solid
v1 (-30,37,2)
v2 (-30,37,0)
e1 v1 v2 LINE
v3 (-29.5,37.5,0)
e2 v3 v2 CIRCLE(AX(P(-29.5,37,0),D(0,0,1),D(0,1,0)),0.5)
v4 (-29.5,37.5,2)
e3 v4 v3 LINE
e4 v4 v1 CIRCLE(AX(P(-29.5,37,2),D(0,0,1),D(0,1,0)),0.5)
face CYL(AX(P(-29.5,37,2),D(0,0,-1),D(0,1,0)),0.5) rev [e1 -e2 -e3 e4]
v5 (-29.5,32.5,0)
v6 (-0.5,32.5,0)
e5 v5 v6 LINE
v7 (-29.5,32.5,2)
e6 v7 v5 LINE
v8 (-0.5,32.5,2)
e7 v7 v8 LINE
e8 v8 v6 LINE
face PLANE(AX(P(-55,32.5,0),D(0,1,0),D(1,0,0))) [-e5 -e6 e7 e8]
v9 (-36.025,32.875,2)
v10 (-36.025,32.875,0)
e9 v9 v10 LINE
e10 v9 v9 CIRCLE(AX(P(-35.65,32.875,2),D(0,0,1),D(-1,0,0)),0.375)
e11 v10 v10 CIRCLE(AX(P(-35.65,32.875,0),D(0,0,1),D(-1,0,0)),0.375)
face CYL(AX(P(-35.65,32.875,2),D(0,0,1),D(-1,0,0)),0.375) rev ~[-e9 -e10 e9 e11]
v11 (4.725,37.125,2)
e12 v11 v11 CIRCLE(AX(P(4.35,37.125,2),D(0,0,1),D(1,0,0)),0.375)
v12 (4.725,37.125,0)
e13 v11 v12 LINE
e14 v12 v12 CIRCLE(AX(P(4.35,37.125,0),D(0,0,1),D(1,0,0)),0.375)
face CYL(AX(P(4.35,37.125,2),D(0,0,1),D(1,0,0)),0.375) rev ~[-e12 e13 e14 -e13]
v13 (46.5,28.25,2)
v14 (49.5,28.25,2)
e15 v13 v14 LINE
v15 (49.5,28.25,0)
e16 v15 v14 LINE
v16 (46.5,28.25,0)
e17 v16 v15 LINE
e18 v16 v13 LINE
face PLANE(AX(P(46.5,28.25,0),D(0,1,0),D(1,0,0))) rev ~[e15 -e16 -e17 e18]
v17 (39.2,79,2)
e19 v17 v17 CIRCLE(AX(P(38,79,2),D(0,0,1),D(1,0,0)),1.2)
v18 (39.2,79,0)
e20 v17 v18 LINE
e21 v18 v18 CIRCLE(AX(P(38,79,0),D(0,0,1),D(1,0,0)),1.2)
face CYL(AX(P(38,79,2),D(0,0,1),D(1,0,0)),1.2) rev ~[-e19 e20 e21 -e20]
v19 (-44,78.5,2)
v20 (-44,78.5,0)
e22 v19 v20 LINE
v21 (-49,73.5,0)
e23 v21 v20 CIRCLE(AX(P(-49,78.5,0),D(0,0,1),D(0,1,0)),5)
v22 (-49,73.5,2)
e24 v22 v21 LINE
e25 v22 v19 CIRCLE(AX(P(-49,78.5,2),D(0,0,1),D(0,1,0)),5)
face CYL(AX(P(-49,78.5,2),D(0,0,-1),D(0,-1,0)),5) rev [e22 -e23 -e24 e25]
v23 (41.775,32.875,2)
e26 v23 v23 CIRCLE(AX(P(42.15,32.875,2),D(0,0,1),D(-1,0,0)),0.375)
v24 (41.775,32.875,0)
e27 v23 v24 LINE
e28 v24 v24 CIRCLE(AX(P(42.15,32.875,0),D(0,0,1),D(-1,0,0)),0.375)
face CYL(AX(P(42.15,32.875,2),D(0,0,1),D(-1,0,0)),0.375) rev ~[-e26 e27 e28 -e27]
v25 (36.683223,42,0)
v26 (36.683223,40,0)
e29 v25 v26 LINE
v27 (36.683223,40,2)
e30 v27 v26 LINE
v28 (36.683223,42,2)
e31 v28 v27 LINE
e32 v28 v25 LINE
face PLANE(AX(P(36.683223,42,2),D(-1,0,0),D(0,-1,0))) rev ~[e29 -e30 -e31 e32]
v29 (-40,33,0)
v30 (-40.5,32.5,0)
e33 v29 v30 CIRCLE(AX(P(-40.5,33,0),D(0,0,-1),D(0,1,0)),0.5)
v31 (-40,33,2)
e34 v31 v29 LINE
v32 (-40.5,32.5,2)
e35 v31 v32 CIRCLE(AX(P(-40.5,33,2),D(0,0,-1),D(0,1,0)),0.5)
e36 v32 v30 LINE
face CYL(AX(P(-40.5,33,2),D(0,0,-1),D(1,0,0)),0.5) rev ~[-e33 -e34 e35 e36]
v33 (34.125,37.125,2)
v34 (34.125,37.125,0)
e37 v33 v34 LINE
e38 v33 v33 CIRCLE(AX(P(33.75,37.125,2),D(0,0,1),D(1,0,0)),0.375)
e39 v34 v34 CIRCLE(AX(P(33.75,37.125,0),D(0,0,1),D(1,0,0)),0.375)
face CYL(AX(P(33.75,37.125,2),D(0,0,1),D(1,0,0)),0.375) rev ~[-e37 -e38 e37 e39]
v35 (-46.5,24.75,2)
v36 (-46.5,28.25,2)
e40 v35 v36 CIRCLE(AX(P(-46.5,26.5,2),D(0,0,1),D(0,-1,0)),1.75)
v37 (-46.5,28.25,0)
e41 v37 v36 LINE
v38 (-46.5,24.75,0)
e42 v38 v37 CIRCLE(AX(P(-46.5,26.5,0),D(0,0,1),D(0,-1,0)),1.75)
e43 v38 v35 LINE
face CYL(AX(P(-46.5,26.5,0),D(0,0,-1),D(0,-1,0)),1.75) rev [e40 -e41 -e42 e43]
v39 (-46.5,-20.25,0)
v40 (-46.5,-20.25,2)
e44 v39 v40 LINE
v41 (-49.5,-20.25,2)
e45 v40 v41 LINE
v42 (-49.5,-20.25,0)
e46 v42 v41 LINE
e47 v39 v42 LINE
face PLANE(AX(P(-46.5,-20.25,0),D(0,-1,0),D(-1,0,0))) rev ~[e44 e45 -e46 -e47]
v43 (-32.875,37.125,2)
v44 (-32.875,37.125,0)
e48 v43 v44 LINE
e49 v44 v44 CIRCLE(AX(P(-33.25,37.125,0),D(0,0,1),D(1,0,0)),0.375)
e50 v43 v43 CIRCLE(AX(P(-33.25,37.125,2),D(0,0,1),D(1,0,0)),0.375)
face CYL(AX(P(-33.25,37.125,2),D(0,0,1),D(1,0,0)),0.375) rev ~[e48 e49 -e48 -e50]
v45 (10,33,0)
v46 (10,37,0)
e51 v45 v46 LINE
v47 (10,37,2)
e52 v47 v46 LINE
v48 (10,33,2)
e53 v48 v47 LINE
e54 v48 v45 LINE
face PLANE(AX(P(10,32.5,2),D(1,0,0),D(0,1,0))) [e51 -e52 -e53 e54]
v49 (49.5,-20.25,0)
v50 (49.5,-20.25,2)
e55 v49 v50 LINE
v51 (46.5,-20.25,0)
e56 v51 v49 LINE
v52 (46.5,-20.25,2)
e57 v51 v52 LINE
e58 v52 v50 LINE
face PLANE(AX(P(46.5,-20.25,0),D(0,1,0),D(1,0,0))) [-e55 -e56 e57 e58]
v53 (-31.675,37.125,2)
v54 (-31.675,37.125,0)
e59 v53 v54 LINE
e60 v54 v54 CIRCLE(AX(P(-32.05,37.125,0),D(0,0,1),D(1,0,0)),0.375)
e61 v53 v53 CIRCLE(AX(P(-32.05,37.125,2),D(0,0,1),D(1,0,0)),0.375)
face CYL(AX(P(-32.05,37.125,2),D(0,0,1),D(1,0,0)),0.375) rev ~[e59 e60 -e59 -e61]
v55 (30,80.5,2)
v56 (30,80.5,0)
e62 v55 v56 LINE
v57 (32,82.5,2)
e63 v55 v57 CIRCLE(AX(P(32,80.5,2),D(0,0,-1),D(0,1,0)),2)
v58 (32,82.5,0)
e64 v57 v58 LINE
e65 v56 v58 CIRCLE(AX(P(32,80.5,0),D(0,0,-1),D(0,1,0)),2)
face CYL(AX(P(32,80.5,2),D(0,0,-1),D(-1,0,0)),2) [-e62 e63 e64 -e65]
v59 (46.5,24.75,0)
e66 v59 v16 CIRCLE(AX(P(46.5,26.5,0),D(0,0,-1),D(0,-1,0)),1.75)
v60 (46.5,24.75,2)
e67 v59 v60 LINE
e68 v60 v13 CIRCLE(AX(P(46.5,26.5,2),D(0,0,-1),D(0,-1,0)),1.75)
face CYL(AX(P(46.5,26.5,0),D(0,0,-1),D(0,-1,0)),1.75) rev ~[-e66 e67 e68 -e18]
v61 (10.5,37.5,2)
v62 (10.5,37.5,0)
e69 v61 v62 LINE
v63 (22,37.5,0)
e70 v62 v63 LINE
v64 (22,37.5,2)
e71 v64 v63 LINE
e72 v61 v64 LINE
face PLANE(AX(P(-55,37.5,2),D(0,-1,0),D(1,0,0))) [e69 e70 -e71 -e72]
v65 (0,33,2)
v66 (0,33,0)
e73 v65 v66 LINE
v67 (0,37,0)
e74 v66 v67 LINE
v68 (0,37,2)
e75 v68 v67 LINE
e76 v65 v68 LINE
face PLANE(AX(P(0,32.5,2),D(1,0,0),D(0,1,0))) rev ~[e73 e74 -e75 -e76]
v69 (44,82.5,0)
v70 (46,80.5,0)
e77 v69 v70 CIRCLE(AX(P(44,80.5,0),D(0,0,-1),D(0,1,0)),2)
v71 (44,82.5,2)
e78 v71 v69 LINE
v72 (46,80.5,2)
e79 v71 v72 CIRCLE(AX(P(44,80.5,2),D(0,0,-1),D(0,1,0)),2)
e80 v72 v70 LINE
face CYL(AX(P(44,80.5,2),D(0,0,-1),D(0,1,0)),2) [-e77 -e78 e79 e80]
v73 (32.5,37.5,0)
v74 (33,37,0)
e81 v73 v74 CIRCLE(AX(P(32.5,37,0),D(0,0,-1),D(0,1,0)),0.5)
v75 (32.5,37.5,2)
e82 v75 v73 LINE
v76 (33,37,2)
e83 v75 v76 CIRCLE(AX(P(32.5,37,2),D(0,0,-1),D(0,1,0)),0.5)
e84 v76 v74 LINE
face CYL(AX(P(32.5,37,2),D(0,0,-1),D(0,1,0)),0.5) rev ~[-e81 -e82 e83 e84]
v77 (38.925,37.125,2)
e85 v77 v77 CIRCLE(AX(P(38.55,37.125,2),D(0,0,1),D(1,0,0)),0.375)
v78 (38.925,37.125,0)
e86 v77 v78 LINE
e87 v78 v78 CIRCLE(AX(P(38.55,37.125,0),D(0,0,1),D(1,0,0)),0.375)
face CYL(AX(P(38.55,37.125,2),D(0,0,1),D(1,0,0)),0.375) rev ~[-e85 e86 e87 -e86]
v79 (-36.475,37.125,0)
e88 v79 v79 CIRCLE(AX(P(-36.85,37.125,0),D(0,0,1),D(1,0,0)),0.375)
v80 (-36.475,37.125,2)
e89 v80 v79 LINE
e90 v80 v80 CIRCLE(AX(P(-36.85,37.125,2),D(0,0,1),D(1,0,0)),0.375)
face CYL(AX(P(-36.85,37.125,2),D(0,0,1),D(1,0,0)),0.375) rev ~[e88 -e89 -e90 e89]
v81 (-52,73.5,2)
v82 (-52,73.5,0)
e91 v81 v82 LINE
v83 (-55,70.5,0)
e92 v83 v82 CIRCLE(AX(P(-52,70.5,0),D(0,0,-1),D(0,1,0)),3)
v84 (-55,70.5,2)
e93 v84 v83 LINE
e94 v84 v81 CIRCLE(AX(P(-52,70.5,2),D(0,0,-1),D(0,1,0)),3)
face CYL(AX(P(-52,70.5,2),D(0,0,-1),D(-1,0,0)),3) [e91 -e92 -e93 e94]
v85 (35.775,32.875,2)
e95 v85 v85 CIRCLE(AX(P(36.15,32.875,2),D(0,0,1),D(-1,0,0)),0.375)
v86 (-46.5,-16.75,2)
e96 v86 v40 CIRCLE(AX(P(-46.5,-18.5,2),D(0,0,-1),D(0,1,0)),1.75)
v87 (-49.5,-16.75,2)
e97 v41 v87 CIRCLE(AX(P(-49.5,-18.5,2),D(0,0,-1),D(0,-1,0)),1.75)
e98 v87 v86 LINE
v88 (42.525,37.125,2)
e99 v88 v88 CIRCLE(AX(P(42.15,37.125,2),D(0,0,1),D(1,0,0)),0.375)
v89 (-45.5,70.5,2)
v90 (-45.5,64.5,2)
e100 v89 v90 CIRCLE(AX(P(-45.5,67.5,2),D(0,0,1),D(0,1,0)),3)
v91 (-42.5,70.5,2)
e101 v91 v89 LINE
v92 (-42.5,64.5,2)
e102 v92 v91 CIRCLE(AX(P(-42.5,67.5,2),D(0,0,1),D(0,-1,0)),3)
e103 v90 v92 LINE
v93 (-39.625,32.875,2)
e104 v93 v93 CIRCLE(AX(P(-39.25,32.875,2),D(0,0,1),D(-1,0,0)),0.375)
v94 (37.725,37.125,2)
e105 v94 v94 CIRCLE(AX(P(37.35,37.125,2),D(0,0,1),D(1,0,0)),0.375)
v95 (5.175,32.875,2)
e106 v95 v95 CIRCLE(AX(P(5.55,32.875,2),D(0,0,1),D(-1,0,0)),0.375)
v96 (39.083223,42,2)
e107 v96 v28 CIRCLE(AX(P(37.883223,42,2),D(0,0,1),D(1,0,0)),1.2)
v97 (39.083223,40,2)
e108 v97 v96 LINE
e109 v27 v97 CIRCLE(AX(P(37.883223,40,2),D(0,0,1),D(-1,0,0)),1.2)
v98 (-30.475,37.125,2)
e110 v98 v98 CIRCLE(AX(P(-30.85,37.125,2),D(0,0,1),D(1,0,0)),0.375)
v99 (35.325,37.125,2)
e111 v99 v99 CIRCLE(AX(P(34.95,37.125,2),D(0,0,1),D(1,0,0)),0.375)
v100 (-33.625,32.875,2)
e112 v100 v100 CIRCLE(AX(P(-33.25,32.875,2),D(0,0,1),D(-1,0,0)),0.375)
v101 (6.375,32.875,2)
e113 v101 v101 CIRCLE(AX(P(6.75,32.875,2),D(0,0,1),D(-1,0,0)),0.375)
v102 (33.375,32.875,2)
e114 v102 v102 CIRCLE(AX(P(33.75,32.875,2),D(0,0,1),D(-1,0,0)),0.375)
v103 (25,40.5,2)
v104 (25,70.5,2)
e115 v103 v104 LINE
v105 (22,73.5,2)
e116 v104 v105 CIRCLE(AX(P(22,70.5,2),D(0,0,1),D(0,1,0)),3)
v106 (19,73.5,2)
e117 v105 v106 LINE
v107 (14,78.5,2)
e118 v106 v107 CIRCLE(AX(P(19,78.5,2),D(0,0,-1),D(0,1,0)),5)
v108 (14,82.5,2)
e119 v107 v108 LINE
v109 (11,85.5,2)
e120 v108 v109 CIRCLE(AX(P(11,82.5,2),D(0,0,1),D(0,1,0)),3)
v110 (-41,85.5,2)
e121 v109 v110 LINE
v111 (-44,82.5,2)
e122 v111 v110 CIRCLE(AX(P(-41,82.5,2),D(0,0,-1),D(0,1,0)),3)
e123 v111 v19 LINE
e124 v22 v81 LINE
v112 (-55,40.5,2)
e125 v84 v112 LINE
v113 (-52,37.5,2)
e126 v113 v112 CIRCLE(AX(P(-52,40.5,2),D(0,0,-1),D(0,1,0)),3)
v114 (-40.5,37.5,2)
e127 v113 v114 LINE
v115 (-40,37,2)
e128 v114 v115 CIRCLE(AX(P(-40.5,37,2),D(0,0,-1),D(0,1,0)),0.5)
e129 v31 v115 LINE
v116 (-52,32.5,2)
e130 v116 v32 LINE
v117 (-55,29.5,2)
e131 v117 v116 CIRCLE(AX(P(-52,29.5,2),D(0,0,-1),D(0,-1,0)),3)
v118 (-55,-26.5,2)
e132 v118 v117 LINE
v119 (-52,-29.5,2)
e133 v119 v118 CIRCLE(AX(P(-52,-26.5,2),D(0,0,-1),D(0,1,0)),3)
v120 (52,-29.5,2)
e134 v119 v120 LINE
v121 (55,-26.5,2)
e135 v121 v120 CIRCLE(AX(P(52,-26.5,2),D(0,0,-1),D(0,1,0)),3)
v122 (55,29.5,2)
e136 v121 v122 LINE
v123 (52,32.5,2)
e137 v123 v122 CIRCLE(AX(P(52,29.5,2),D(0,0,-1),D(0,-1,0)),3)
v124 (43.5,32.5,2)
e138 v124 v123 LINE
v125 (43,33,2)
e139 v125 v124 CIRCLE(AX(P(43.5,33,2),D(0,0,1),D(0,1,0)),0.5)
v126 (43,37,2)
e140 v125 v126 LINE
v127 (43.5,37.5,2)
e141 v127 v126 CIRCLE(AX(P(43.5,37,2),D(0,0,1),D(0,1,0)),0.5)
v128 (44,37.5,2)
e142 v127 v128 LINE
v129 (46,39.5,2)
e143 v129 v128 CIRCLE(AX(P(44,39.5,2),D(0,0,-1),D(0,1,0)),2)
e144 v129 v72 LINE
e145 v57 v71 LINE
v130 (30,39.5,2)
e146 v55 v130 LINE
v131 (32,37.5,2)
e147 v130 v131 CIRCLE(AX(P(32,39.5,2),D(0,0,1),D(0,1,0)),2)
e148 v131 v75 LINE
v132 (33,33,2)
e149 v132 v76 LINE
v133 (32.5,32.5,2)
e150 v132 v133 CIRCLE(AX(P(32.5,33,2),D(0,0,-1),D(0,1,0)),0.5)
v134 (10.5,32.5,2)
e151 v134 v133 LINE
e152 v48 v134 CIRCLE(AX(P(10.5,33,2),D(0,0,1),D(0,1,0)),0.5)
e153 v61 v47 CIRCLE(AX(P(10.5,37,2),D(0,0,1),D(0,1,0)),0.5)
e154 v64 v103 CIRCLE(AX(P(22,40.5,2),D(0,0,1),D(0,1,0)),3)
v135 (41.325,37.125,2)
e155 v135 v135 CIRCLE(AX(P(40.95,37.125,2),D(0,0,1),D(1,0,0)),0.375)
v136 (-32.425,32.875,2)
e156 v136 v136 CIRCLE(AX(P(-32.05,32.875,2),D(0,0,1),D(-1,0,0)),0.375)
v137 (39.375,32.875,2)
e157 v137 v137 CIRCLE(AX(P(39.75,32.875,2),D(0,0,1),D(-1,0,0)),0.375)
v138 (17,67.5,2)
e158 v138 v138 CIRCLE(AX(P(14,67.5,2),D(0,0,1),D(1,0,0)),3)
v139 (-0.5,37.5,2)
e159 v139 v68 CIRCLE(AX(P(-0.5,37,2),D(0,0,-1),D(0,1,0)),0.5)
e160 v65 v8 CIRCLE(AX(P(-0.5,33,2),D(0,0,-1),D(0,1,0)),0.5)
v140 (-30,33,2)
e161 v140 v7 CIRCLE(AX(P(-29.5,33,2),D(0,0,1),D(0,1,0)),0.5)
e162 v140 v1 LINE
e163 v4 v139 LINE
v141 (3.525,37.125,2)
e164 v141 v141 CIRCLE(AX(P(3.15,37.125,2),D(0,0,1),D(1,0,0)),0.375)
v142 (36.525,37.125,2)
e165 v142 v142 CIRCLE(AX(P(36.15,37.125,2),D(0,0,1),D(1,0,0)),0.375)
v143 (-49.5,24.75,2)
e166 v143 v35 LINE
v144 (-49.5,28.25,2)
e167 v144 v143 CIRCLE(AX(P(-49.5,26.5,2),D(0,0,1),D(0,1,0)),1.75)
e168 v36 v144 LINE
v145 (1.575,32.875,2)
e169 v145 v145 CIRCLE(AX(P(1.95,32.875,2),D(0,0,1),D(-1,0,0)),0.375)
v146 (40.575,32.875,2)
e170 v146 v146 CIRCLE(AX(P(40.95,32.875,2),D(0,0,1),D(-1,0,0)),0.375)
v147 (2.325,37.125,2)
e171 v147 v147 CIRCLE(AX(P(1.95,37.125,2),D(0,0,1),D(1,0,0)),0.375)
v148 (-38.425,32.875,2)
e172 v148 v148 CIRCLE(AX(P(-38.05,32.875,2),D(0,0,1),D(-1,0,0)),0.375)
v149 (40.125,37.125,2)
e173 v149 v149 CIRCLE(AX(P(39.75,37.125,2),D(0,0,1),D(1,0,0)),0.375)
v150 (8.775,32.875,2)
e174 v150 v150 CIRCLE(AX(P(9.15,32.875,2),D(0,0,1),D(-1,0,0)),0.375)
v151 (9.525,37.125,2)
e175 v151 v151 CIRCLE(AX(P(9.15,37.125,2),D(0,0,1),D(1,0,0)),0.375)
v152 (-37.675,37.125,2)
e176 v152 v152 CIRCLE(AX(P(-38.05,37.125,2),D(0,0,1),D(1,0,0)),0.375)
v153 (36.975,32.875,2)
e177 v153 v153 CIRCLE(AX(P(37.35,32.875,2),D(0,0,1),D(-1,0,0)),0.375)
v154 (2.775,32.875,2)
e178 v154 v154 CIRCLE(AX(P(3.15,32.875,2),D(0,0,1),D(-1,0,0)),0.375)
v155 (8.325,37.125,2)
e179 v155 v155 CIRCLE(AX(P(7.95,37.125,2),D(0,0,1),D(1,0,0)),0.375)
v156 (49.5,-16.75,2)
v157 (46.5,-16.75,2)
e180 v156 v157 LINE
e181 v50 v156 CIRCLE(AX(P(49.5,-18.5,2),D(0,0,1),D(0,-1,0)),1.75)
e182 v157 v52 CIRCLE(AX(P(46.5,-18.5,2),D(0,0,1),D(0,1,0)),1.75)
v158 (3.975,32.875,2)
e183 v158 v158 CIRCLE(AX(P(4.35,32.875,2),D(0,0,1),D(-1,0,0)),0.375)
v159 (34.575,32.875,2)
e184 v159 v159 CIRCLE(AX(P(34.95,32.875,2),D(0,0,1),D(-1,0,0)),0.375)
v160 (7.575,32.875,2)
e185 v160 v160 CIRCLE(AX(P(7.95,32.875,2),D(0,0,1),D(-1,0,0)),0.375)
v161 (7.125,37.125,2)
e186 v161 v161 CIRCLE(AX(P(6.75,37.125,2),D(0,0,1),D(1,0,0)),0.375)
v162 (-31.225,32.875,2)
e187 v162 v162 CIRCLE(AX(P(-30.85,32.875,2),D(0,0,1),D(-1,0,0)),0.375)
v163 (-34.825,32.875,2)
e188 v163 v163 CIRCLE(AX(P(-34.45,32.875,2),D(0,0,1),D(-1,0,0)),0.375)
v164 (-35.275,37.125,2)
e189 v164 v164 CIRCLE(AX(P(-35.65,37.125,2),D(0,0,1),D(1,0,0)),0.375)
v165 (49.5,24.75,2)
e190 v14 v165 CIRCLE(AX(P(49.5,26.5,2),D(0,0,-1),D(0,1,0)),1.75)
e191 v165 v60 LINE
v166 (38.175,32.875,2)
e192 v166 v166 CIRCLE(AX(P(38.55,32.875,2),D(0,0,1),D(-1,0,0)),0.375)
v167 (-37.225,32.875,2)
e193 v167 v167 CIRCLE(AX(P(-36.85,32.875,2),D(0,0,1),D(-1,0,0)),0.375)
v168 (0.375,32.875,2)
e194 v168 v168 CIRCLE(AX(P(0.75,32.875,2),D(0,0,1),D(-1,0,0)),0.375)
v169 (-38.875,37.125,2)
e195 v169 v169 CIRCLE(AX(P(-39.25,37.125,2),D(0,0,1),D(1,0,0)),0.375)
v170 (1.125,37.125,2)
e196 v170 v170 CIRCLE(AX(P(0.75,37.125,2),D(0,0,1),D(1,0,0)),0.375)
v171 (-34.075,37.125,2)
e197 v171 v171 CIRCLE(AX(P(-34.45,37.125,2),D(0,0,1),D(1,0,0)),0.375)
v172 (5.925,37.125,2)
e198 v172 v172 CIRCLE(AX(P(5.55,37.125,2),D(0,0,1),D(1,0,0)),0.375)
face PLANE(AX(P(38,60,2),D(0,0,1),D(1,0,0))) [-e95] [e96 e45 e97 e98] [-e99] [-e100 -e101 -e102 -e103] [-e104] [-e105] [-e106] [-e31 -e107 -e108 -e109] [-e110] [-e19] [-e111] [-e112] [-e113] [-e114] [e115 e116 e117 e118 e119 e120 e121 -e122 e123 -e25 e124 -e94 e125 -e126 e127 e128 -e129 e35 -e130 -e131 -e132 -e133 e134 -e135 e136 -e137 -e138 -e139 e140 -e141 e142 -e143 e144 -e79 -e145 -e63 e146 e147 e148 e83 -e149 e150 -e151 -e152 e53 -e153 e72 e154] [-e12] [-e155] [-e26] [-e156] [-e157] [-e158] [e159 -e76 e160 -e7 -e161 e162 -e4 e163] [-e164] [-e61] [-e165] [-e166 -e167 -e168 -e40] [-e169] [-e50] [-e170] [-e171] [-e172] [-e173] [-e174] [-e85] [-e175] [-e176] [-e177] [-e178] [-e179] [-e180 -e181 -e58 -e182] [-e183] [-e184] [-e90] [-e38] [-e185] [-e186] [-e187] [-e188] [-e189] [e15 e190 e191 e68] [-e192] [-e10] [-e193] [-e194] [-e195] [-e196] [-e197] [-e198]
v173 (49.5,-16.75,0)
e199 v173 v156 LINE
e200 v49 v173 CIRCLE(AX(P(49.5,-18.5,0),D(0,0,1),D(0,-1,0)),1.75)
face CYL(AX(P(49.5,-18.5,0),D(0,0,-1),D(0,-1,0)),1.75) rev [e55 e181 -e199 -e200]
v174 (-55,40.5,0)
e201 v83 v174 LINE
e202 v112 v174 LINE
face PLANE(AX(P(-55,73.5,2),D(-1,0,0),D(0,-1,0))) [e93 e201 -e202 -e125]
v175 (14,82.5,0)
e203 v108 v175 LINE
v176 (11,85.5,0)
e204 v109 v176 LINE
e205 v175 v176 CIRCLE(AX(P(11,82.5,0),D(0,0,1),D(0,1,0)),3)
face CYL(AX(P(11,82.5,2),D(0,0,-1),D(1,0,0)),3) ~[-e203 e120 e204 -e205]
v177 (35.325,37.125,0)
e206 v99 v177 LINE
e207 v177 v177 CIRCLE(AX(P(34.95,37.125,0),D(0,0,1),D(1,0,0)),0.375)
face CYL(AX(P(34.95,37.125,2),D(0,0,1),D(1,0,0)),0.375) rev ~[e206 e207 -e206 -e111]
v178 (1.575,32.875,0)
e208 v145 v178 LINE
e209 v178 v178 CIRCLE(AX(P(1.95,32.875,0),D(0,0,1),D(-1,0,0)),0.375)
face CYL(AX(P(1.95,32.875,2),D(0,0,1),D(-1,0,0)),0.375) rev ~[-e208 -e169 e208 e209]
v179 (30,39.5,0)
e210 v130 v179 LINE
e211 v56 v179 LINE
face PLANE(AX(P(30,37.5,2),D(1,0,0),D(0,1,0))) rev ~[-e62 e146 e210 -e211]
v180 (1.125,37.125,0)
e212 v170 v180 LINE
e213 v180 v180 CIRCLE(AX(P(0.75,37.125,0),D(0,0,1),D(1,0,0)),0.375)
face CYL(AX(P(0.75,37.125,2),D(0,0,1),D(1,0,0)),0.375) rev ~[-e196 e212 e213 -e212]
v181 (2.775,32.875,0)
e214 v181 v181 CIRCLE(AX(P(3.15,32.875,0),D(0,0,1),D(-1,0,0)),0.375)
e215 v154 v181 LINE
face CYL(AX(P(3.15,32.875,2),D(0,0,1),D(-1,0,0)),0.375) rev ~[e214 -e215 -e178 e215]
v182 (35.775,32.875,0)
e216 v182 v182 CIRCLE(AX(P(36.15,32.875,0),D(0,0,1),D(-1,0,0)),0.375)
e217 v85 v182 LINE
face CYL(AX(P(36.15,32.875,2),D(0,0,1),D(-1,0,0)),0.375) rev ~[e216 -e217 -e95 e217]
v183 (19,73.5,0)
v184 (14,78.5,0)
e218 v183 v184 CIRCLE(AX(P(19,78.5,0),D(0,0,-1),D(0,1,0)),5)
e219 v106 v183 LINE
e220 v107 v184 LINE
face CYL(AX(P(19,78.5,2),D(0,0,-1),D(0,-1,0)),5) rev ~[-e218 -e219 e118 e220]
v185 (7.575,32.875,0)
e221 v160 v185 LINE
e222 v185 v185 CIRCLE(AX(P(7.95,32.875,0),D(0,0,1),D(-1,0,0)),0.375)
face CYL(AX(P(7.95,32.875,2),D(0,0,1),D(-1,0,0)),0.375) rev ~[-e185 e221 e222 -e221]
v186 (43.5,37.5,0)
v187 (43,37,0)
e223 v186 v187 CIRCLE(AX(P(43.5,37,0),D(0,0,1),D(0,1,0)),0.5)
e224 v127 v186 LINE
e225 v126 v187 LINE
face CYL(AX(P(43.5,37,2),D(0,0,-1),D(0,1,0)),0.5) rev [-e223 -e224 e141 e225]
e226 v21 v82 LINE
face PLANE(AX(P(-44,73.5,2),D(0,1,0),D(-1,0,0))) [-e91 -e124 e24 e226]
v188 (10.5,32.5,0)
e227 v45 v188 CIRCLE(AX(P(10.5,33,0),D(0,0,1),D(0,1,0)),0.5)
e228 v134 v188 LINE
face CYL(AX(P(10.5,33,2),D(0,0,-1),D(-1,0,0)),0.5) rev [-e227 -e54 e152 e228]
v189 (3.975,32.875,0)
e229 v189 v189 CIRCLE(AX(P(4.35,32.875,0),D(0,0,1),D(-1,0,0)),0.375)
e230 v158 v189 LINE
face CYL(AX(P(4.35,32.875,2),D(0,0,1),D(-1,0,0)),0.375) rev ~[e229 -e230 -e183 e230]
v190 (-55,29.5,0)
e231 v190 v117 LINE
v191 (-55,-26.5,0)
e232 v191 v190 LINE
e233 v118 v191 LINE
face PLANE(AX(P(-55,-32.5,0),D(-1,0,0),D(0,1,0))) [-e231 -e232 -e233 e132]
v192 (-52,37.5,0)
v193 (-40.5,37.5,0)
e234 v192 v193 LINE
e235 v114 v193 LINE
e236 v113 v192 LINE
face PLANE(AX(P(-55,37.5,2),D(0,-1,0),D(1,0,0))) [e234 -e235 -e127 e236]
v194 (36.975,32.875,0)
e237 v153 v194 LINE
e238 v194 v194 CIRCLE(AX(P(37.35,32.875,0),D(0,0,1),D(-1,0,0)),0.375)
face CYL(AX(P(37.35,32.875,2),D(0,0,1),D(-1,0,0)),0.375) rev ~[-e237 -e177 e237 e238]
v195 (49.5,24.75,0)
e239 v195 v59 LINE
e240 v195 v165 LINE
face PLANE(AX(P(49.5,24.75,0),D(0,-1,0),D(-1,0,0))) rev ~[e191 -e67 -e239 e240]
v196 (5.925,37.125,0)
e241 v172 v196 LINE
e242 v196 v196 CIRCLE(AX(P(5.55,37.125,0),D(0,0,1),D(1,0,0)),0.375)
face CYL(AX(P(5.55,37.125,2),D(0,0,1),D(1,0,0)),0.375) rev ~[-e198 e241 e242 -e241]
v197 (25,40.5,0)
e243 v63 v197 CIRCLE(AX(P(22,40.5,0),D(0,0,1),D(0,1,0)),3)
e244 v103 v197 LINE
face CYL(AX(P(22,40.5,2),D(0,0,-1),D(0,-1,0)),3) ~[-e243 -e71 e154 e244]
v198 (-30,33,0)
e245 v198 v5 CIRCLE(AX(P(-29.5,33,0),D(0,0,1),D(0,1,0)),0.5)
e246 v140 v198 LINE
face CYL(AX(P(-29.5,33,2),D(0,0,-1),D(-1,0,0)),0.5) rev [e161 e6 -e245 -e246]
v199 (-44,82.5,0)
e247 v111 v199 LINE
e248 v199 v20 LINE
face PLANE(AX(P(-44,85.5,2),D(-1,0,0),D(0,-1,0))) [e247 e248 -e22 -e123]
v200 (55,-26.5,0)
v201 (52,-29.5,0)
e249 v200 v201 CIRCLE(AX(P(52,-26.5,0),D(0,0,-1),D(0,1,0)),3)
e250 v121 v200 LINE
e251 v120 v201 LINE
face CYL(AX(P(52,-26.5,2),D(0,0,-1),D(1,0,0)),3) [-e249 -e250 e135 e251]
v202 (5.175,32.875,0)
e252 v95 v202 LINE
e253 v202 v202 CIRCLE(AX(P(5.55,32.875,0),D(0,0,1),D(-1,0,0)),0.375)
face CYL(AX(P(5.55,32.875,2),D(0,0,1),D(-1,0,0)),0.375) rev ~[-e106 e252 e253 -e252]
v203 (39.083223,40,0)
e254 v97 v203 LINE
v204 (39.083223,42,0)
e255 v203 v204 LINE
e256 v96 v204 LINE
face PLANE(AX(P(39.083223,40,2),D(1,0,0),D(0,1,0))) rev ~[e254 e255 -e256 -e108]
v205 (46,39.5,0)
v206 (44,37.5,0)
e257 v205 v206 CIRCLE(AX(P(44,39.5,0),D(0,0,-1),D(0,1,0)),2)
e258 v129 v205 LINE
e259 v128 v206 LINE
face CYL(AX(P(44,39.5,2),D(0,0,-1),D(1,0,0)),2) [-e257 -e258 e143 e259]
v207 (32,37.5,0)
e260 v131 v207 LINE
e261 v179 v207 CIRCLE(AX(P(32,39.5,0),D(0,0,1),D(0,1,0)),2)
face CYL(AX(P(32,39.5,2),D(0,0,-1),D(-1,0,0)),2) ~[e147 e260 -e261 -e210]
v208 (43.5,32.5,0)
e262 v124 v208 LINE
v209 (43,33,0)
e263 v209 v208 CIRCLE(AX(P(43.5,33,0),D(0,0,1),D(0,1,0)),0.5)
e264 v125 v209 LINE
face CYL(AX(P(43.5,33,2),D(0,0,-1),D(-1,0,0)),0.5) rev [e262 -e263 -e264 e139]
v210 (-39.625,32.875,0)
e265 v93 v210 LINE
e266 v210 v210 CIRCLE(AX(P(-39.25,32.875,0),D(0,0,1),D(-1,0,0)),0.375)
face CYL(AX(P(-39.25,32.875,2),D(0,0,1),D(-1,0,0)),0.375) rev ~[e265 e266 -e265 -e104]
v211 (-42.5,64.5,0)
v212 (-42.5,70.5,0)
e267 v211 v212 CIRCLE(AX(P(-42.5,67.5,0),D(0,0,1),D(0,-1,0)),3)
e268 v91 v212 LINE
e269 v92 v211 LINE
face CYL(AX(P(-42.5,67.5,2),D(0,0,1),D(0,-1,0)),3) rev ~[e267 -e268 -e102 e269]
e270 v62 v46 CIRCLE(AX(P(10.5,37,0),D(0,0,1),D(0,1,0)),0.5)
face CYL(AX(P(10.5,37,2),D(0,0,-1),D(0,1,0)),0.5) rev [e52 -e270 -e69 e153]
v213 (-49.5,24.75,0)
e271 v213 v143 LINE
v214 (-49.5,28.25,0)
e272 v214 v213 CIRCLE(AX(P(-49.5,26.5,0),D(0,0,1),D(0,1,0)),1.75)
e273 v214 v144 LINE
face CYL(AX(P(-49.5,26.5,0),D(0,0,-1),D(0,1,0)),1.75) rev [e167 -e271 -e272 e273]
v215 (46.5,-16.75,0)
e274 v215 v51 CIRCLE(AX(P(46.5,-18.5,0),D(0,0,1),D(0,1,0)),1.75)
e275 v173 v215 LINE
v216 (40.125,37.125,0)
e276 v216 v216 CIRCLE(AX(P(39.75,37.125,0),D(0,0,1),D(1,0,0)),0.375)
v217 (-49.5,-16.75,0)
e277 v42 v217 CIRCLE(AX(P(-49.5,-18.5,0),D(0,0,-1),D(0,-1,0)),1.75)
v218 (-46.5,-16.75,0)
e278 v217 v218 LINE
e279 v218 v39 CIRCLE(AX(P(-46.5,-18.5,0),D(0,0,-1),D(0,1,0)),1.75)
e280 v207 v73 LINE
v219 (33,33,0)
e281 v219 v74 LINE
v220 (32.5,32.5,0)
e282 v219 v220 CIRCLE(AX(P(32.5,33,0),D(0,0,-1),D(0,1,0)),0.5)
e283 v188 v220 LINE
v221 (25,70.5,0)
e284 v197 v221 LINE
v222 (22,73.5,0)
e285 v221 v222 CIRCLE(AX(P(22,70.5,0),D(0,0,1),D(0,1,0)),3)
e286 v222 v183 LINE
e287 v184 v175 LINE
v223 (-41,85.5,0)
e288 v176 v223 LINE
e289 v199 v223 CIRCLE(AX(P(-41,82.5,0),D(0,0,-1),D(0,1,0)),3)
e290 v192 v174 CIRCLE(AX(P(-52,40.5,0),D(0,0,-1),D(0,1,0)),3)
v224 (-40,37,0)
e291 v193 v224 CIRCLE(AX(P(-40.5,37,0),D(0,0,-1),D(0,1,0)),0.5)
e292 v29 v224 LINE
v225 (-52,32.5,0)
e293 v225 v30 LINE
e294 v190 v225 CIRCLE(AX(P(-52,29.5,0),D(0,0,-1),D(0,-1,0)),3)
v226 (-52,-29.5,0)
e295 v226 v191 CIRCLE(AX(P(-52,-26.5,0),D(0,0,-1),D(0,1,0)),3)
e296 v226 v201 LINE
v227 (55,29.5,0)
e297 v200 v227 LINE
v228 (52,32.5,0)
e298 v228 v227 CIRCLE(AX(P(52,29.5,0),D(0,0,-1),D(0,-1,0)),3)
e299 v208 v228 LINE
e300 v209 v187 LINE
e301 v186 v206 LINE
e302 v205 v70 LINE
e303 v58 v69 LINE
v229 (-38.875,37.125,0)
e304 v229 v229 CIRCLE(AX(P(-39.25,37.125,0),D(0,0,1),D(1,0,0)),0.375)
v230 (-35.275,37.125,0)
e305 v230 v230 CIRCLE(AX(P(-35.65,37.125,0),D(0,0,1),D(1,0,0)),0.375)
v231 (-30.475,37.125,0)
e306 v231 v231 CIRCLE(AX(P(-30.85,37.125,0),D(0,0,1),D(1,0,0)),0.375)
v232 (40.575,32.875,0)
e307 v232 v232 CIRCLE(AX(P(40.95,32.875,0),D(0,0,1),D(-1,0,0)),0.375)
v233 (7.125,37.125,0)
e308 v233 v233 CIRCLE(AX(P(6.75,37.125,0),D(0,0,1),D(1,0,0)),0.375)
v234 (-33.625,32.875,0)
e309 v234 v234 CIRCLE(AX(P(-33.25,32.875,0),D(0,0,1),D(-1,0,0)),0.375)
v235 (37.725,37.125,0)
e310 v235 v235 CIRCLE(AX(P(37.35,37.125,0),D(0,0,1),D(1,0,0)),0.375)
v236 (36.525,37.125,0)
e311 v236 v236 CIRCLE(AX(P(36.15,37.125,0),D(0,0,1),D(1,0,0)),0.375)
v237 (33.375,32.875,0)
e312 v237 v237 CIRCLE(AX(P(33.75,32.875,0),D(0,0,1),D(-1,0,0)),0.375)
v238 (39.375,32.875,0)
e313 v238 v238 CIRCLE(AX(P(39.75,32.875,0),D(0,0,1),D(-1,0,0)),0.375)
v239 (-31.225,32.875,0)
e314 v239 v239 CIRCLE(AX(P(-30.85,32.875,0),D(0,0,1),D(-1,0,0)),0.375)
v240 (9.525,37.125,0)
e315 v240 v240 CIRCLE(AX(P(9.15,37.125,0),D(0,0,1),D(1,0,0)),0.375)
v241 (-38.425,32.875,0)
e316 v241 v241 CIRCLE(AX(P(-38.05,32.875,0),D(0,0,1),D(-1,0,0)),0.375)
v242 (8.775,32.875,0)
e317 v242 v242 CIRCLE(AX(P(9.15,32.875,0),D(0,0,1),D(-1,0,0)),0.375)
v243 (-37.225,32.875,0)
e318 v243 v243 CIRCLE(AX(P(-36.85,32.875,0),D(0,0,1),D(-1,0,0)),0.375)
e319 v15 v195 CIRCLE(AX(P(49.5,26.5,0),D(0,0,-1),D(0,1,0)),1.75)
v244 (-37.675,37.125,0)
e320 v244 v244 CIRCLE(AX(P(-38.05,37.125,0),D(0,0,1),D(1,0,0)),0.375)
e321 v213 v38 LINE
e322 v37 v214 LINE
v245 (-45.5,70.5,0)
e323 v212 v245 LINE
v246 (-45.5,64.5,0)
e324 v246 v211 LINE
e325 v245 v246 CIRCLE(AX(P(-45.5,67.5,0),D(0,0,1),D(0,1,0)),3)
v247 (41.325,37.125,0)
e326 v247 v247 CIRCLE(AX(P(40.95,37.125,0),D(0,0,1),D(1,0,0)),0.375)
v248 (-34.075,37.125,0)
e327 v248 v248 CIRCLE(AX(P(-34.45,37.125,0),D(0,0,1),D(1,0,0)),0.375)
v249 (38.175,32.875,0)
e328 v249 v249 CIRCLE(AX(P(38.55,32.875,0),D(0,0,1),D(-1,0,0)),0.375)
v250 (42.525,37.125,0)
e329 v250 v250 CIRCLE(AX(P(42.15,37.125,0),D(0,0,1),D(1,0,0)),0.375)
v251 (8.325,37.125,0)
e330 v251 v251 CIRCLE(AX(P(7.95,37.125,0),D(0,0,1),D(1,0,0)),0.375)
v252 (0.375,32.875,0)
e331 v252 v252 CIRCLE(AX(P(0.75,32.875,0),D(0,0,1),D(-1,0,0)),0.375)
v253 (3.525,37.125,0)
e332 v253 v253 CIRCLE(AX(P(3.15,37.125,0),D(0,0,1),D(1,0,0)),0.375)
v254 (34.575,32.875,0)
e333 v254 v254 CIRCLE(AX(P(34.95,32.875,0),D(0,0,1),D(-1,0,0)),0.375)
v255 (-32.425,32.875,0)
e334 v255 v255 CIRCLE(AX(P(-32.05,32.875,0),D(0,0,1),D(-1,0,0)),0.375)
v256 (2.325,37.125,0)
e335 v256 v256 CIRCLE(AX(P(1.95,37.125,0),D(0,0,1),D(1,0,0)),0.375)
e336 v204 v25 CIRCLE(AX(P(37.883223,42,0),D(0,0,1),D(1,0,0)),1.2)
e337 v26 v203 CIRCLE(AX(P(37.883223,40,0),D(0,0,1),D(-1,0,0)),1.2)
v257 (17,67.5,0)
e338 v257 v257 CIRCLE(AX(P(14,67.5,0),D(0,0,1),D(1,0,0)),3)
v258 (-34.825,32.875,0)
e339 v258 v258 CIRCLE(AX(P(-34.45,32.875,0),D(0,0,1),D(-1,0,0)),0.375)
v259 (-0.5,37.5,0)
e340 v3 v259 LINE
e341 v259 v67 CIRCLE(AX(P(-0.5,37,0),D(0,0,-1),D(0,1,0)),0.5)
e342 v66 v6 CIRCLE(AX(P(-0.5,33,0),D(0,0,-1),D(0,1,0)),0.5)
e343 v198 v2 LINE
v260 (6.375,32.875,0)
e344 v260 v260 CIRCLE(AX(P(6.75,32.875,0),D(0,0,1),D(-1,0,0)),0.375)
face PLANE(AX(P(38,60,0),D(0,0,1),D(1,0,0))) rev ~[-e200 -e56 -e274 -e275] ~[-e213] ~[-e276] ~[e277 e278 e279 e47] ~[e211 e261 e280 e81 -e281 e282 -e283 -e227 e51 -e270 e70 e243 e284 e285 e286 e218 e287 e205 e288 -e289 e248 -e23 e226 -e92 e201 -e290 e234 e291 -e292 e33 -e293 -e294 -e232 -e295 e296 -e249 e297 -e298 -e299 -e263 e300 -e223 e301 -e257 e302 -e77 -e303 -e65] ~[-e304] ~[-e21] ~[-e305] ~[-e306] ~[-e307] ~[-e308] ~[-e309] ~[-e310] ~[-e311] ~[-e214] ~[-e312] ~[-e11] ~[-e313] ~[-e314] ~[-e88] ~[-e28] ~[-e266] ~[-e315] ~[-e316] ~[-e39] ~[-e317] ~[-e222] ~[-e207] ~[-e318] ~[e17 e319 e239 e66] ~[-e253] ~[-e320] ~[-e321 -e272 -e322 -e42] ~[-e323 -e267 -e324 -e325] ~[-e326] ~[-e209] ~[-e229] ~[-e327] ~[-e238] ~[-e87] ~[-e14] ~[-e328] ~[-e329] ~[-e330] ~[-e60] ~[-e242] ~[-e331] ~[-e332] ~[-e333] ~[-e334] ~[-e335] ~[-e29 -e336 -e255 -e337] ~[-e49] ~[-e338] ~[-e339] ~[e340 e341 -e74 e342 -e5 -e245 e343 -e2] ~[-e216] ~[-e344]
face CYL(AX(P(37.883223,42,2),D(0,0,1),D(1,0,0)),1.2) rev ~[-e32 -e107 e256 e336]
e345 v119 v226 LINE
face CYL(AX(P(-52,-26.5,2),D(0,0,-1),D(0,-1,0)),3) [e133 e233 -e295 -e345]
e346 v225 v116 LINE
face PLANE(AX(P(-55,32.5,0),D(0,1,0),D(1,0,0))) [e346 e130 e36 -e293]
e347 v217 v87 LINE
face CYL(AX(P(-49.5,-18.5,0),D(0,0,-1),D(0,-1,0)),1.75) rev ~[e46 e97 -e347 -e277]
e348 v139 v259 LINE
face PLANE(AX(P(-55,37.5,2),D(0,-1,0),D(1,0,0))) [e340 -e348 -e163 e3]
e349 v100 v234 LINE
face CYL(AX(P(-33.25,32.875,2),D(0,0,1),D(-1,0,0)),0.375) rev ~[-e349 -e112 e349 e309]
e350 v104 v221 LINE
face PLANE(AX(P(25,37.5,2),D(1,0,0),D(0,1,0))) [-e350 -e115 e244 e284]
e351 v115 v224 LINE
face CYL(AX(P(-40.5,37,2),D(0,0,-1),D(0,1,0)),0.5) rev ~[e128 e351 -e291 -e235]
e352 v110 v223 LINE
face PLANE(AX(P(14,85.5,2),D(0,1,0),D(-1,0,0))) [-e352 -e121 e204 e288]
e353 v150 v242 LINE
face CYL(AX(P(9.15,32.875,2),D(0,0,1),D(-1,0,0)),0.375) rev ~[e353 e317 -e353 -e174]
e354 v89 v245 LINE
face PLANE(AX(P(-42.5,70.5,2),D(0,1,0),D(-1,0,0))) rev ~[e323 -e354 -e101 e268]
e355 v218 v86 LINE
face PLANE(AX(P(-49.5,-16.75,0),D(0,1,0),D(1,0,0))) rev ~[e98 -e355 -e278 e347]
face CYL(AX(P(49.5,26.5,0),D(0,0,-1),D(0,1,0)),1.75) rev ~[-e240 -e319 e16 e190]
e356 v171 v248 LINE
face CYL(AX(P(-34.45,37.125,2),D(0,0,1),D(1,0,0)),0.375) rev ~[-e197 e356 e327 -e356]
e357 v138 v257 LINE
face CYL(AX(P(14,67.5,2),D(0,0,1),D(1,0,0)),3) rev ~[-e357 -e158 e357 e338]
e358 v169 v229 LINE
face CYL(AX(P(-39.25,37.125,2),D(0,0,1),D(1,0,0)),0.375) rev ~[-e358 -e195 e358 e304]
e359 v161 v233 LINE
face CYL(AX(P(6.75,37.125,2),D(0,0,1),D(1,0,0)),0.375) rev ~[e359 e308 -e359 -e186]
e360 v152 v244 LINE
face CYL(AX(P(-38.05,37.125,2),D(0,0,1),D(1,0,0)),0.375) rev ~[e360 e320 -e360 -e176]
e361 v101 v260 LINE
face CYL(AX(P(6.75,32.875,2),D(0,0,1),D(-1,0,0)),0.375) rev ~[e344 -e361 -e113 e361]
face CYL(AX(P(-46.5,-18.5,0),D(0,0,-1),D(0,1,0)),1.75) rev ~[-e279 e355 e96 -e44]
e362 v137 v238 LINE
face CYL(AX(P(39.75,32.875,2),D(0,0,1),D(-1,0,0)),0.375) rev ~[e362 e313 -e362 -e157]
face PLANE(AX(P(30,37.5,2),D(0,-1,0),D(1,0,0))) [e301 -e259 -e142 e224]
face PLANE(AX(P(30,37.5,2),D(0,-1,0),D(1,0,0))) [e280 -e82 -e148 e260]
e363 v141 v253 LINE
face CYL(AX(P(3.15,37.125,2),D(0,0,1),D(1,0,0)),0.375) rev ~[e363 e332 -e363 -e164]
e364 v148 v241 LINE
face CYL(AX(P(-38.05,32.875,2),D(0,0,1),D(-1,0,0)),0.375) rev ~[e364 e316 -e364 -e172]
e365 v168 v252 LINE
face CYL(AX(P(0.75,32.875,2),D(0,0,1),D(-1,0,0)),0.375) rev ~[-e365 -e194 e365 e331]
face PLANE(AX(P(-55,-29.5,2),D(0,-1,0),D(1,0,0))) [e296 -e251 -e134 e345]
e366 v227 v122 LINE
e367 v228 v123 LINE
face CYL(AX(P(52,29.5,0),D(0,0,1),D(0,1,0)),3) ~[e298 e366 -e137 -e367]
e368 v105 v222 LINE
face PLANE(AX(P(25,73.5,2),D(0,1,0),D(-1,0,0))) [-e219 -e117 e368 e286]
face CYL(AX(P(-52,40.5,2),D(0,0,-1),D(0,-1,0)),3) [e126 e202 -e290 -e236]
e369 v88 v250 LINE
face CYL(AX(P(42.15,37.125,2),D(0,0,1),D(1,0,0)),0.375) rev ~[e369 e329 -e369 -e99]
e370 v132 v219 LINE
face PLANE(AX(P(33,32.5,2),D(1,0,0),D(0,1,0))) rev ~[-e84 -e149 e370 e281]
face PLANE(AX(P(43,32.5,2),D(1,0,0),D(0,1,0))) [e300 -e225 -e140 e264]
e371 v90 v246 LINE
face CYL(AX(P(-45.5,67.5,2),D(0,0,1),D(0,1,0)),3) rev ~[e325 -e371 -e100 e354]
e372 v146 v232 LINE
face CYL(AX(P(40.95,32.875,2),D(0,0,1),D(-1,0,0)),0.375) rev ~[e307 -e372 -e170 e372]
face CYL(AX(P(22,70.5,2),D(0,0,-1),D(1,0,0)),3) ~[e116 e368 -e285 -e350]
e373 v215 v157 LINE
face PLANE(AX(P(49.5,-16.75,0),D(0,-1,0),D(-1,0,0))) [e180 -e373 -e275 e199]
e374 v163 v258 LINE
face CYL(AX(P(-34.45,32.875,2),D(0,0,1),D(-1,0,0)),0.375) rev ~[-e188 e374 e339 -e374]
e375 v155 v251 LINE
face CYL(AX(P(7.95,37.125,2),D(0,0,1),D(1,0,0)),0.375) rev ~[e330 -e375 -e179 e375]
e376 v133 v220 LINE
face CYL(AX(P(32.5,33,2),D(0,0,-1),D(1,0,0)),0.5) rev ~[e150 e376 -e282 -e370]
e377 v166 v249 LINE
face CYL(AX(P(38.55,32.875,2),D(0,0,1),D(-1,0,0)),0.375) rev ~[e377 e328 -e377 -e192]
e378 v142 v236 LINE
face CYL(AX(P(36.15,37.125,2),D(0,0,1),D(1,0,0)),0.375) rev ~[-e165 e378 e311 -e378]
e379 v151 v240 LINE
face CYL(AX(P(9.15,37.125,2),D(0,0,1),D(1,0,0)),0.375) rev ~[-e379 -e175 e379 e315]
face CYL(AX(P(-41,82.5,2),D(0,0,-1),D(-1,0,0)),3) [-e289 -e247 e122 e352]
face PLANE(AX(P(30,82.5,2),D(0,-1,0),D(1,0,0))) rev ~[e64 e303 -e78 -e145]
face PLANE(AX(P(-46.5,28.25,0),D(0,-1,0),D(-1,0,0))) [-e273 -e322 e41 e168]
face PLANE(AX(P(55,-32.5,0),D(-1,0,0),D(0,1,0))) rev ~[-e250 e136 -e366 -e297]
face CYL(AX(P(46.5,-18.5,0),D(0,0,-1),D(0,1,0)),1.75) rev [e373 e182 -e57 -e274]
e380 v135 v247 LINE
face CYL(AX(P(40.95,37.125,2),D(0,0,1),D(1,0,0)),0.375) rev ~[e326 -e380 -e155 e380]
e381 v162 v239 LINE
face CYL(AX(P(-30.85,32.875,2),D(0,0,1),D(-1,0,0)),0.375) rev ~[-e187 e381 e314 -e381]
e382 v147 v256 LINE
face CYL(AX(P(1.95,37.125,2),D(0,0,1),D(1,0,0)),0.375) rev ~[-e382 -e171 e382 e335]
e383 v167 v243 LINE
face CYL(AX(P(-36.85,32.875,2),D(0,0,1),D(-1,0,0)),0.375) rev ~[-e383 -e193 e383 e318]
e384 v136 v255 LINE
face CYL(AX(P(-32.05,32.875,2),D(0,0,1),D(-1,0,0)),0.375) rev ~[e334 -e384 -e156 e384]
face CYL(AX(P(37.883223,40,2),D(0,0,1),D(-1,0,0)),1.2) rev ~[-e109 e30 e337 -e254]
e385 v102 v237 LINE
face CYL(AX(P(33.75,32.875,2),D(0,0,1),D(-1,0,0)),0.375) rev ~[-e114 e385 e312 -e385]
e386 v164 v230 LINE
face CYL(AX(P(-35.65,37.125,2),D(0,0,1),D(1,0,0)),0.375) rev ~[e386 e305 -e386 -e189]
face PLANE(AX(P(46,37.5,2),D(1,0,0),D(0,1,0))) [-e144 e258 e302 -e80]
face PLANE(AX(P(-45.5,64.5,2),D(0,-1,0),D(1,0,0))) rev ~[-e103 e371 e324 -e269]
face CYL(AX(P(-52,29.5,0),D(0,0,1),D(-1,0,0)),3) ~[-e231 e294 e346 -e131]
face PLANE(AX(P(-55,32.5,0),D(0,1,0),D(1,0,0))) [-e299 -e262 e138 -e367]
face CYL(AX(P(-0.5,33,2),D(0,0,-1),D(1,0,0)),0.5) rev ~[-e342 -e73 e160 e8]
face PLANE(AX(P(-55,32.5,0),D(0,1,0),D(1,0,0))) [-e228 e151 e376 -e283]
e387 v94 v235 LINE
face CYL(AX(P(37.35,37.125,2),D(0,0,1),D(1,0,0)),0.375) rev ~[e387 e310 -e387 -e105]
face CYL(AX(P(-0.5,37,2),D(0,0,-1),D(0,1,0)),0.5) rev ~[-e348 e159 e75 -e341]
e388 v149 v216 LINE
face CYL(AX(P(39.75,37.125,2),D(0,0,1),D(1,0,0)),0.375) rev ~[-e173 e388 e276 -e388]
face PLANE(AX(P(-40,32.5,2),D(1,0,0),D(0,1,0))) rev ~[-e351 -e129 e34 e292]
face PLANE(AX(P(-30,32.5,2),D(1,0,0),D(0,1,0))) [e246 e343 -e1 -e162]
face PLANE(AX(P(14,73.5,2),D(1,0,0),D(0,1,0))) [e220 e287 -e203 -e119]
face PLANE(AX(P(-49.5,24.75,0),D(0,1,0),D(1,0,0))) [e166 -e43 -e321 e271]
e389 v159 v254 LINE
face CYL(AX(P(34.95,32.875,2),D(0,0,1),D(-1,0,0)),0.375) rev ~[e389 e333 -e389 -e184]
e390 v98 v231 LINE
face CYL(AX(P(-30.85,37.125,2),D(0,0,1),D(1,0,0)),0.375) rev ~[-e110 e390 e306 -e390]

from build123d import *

# Parameters (mm, degrees)
SKETCH_1_W          = 110
SKETCH_1_H          = 65
EXTRUDE_1_DEPTH     = 2
FILLET_1_R          = 3
SKETCH_2_R          = 3
EXTRUDE_2_DEPTH     = 2
FILLET_5_R          = 3
FILLET_6_R          = 5
SKETCH_4_W          = 10
SKETCH_4_H          = 5
EXTRUDE_4_DEPTH     = 2
FILLET_7_R          = 0.5
SKETCH_5_W          = 16
SKETCH_5_H          = 45
SKETCH_5_R          = 1.2
EXTRUDE_5_DEPTH     = 2
SKETCH_6_W          = 10
SKETCH_6_H          = 5
SKETCH_6_W_2        = 5
SKETCH_6_H_2        = 10
EXTRUDE_6_DEPTH     = 2
FILLET_8_R          = 0.5
FILLET_9_R          = 2
SKETCH_7_W          = 110
SKETCH_7_H          = 3
CUT_EXTRUDE_1_DEPTH = 10
FILLET_10_R         = 3
SKETCH_10_W         = 5
SKETCH_10_H         = 19.84178834
CUT_EXTRUDE_3_DEPTH = 10
SKETCH_11_R         = 0.375
CUT_EXTRUDE_4_DEPTH = 10


with BuildPart() as part:
    # ｽｹｯﾁ1 → ﾎﾞｽ - 押し出し1 (new body)
    with BuildSketch(Plane.XY):
        Rectangle(SKETCH_1_W, SKETCH_1_H)
        with BuildLine():
            Line((-49.5, 24.75), (-46.5, 24.75))
            ThreePointArc((-46.5, 24.75), (-44.75, 26.5), (-46.5, 28.25))
            Line((-46.5, 28.25), (-49.5, 28.25))
            ThreePointArc((-49.5, 28.25), (-51.25, 26.5), (-49.5, 24.75))
        make_face(mode=Mode.SUBTRACT)
        with BuildLine():
            Line((-46.5, -20.25), (-49.5, -20.25))
            ThreePointArc((-49.5, -20.25), (-51.25, -18.5), (-49.5, -16.75))
            Line((-49.5, -16.75), (-46.5, -16.75))
            ThreePointArc((-46.5, -16.75), (-44.75, -18.5), (-46.5, -20.25))
        make_face(mode=Mode.SUBTRACT)
        with BuildLine():
            Line((46.5, -20.25), (49.5, -20.25))
            ThreePointArc((49.5, -20.25), (51.25, -18.5), (49.5, -16.75))
            Line((49.5, -16.75), (46.5, -16.75))
            ThreePointArc((46.5, -16.75), (44.75, -18.5), (46.5, -20.25))
        make_face(mode=Mode.SUBTRACT)
        with BuildLine():
            Line((46.5, 28.25), (49.5, 28.25))
            ThreePointArc((49.5, 28.25), (51.25, 26.5), (49.5, 24.75))
            Line((49.5, 24.75), (46.5, 24.75))
            ThreePointArc((46.5, 24.75), (44.75, 26.5), (46.5, 28.25))
        make_face(mode=Mode.SUBTRACT)
    extrude(amount=EXTRUDE_1_DEPTH)

    # ﾌｨﾚｯﾄ1
    fillet_1_edges = [part.edges().sort_by_distance(p)[0] for p in [
        (-55, 32.5, 1),
        (55, 32.5, 1),
    ]]
    fillet(fillet_1_edges, radius=FILLET_1_R)



with BuildPart() as body_2:
    # ｽｹｯﾁ2 → ﾎﾞｽ - 押し出し2 (new body)
    with BuildSketch(Plane.XY.offset(2)):
        Polygon((-55, 37.5), (25, 37.5), (25, 73.5), (14, 73.5), (14, 85.5), (-44, 85.5), (-44, 73.5), (-55, 73.5), align=None)
        with Locations((14, 67.5)):
            Circle(SKETCH_2_R, mode=Mode.SUBTRACT)
        with BuildLine():
            Line((-45.5, 64.5), (-42.5, 64.5))
            ThreePointArc((-42.5, 64.5), (-39.5, 67.5), (-42.5, 70.5))
            Line((-42.5, 70.5), (-45.5, 70.5))
            ThreePointArc((-45.5, 70.5), (-48.5, 67.5), (-45.5, 64.5))
        make_face(mode=Mode.SUBTRACT)
    extrude(amount=-EXTRUDE_2_DEPTH)

    # ﾌｨﾚｯﾄ5
    fillet_5_edges = [body_2.edges().sort_by_distance(p)[0] for p in [
        (25, 37.5, 1),
        (-55, 37.5, 1),
        (-55, 73.5, 1),
        (-44, 85.5, 1),
        (14, 85.5, 1),
        (25, 73.5, 1),
    ]]
    fillet(fillet_5_edges, radius=FILLET_5_R)

    # ﾌｨﾚｯﾄ6
    fillet_6_edges = [body_2.edges().sort_by_distance(p)[0] for p in [
        (-44, 73.5, 1),
        (14, 73.5, 1),
    ]]
    fillet(fillet_6_edges, radius=FILLET_6_R)


with BuildPart() as part_1:
    add(part.part)

    add(body_2.part)  # ﾎﾞｽ - 押し出し4 merges body 2
    # ｽｹｯﾁ4 → ﾎﾞｽ - 押し出し4 (add)
    with BuildSketch(Plane.XY.offset(2)):
        with Locations((-35, 35)):
            Rectangle(SKETCH_4_W, SKETCH_4_H)
        with Locations((5, 35)):
            Rectangle(SKETCH_4_W, SKETCH_4_H)
    extrude(amount=-EXTRUDE_4_DEPTH)

    # ﾌｨﾚｯﾄ7
    fillet_7_edges = [part_1.edges().sort_by_distance(p)[0] for p in [
        (0, 37.5, 1),
        (10, 37.5, 1),
        (10, 32.5, 1),
        (0, 32.5, 1),
        (-40, 37.5, 1),
        (-30, 37.5, 1),
        (-30, 32.5, 1),
        (-40, 32.5, 1),
    ]]
    fillet(fillet_7_edges, radius=FILLET_7_R)



with BuildPart() as body_2_2:
    # ｽｹｯﾁ5 → ﾎﾞｽ - 押し出し5 (new body)
    with BuildSketch(Plane.XY.offset(2)):
        with Locations((38, 60)):
            Rectangle(SKETCH_5_W, SKETCH_5_H)
        with Locations((38, 79)):
            Circle(SKETCH_5_R, mode=Mode.SUBTRACT)
        with BuildLine():
            Line((36.683223365, 42), (36.683223365, 40))
            ThreePointArc((36.683223365, 40), (37.883223365, 38.8), (39.083223365, 40))
            Line((39.083223365, 40), (39.083223365, 42))
            ThreePointArc((39.083223365, 42), (37.883223365, 43.2), (36.683223365, 42))
        make_face(mode=Mode.SUBTRACT)
    extrude(amount=-EXTRUDE_5_DEPTH)


with BuildPart() as part_2:
    add(part_1.part)

    add(body_2_2.part)  # ﾎﾞｽ - 押し出し6 merges body 2 2
    # ｽｹｯﾁ6 → ﾎﾞｽ - 押し出し6 (add)
    with BuildSketch(Plane.XY.offset(2)):
        with Locations((38, 35)):
            Rectangle(SKETCH_6_W, SKETCH_6_H)
        with Locations((27.5, 60.5)):
            Rectangle(SKETCH_6_W_2, SKETCH_6_H_2)
    extrude(amount=-EXTRUDE_6_DEPTH)

    # ﾌｨﾚｯﾄ8
    fillet_8_edges = [part_2.edges().sort_by_distance(p)[0] for p in [
        (33, 37.5, 1),
        (43, 37.5, 1),
        (43, 32.5, 1),
        (33, 32.5, 1),
        (25, 55.5, 1),
        (25, 65.5, 1),
        (30, 65.5, 1),
        (30, 55.5, 1),
    ]]
    fillet(fillet_8_edges, radius=FILLET_8_R)

    # ﾌｨﾚｯﾄ9
    fillet_9_edges = [part_2.edges().sort_by_distance(p)[0] for p in [
        (46, 37.5, 1),
        (46, 82.5, 1),
        (30, 37.5, 1),
        (30, 82.5, 1),
    ]]
    fillet(fillet_9_edges, radius=FILLET_9_R)

    # ｽｹｯﾁ7 → ｶｯﾄ - 押し出し1 (cut)
    with BuildSketch(Plane.XY.offset(2)):
        with Locations((0, -31)):
            Rectangle(SKETCH_7_W, SKETCH_7_H)
    extrude(amount=-CUT_EXTRUDE_1_DEPTH, mode=Mode.SUBTRACT)

    # ﾌｨﾚｯﾄ10
    fillet_10_edges = [part_2.edges().sort_by_distance(p)[0] for p in [
        (55, -29.5, 1),
        (-55, -29.5, 1),
    ]]
    fillet(fillet_10_edges, radius=FILLET_10_R)

    # ｽｹｯﾁ10 → ｶｯﾄ - 押し出し3 (cut)
    with BuildSketch(Plane.XY.offset(2)):
        with Locations((27.5, 60.5)):
            Rectangle(SKETCH_10_W, SKETCH_10_H)
    extrude(amount=-CUT_EXTRUDE_3_DEPTH, mode=Mode.SUBTRACT)

    # ｽｹｯﾁ11 → ｶｯﾄ - 押し出し4 (cut)
    with BuildSketch(Plane.XY.offset(2)):
        with Locations((-39.25, 37.125)):
            Circle(SKETCH_11_R)
        with Locations((-38.05, 37.125)):
            Circle(SKETCH_11_R)
        with Locations((-36.85, 37.125)):
            Circle(SKETCH_11_R)
        with Locations((-35.65, 37.125)):
            Circle(SKETCH_11_R)
        with Locations((-34.45, 37.125)):
            Circle(SKETCH_11_R)
        with Locations((-33.25, 37.125)):
            Circle(SKETCH_11_R)
        with Locations((-32.05, 37.125)):
            Circle(SKETCH_11_R)
        with Locations((-30.85, 37.125)):
            Circle(SKETCH_11_R)
        with Locations((0.75, 37.125)):
            Circle(SKETCH_11_R)
        with Locations((33.75, 37.125)):
            Circle(SKETCH_11_R)
        with Locations((34.95, 37.125)):
            Circle(SKETCH_11_R)
        with Locations((36.15, 37.125)):
            Circle(SKETCH_11_R)
        with Locations((37.35, 37.125)):
            Circle(SKETCH_11_R)
        with Locations((38.55, 37.125)):
            Circle(SKETCH_11_R)
        with Locations((39.75, 37.125)):
            Circle(SKETCH_11_R)
        with Locations((40.95, 37.125)):
            Circle(SKETCH_11_R)
        with Locations((42.15, 37.125)):
            Circle(SKETCH_11_R)
        with Locations((1.95, 37.125)):
            Circle(SKETCH_11_R)
        with Locations((3.15, 37.125)):
            Circle(SKETCH_11_R)
        with Locations((4.35, 37.125)):
            Circle(SKETCH_11_R)
        with Locations((5.55, 37.125)):
            Circle(SKETCH_11_R)
        with Locations((6.75, 37.125)):
            Circle(SKETCH_11_R)
        with Locations((7.95, 37.125)):
            Circle(SKETCH_11_R)
        with Locations((9.15, 37.125)):
            Circle(SKETCH_11_R)
        with Locations(Location((42.15, 32.875, 0), (0, 0, 180))):
            Circle(SKETCH_11_R)
        with Locations(Location((40.95, 32.875, 0), (0, 0, 180))):
            Circle(SKETCH_11_R)
        with Locations(Location((39.75, 32.875, 0), (0, 0, 180))):
            Circle(SKETCH_11_R)
        with Locations(Location((38.55, 32.875, 0), (0, 0, 180))):
            Circle(SKETCH_11_R)
        with Locations(Location((37.35, 32.875, 0), (0, 0, 180))):
            Circle(SKETCH_11_R)
        with Locations(Location((36.15, 32.875, 0), (0, 0, 180))):
            Circle(SKETCH_11_R)
        with Locations(Location((34.95, 32.875, 0), (0, 0, 180))):
            Circle(SKETCH_11_R)
        with Locations(Location((33.75, 32.875, 0), (0, 0, 180))):
            Circle(SKETCH_11_R)
        with Locations(Location((0.75, 32.875, 0), (0, 0, 180))):
            Circle(SKETCH_11_R)
        with Locations(Location((1.95, 32.875, 0), (0, 0, 180))):
            Circle(SKETCH_11_R)
        with Locations(Location((3.15, 32.875, 0), (0, 0, 180))):
            Circle(SKETCH_11_R)
        with Locations(Location((4.35, 32.875, 0), (0, 0, 180))):
            Circle(SKETCH_11_R)
        with Locations(Location((5.55, 32.875, 0), (0, 0, 180))):
            Circle(SKETCH_11_R)
        with Locations(Location((6.75, 32.875, 0), (0, 0, 180))):
            Circle(SKETCH_11_R)
        with Locations(Location((7.95, 32.875, 0), (0, 0, 180))):
            Circle(SKETCH_11_R)
        with Locations(Location((9.15, 32.875, 0), (0, 0, 180))):
            Circle(SKETCH_11_R)
        with Locations(Location((-30.85, 32.875, 0), (0, 0, 180))):
            Circle(SKETCH_11_R)
        with Locations(Location((-32.05, 32.875, 0), (0, 0, 180))):
            Circle(SKETCH_11_R)
        with Locations(Location((-33.25, 32.875, 0), (0, 0, 180))):
            Circle(SKETCH_11_R)
        with Locations(Location((-34.45, 32.875, 0), (0, 0, 180))):
            Circle(SKETCH_11_R)
        with Locations(Location((-35.65, 32.875, 0), (0, 0, 180))):
            Circle(SKETCH_11_R)
        with Locations(Location((-36.85, 32.875, 0), (0, 0, 180))):
            Circle(SKETCH_11_R)
        with Locations(Location((-38.05, 32.875, 0), (0, 0, 180))):
            Circle(SKETCH_11_R)
        with Locations(Location((-39.25, 32.875, 0), (0, 0, 180))):
            Circle(SKETCH_11_R)
    extrude(amount=-CUT_EXTRUDE_4_DEPTH, mode=Mode.SUBTRACT)


solid = part_2.part
